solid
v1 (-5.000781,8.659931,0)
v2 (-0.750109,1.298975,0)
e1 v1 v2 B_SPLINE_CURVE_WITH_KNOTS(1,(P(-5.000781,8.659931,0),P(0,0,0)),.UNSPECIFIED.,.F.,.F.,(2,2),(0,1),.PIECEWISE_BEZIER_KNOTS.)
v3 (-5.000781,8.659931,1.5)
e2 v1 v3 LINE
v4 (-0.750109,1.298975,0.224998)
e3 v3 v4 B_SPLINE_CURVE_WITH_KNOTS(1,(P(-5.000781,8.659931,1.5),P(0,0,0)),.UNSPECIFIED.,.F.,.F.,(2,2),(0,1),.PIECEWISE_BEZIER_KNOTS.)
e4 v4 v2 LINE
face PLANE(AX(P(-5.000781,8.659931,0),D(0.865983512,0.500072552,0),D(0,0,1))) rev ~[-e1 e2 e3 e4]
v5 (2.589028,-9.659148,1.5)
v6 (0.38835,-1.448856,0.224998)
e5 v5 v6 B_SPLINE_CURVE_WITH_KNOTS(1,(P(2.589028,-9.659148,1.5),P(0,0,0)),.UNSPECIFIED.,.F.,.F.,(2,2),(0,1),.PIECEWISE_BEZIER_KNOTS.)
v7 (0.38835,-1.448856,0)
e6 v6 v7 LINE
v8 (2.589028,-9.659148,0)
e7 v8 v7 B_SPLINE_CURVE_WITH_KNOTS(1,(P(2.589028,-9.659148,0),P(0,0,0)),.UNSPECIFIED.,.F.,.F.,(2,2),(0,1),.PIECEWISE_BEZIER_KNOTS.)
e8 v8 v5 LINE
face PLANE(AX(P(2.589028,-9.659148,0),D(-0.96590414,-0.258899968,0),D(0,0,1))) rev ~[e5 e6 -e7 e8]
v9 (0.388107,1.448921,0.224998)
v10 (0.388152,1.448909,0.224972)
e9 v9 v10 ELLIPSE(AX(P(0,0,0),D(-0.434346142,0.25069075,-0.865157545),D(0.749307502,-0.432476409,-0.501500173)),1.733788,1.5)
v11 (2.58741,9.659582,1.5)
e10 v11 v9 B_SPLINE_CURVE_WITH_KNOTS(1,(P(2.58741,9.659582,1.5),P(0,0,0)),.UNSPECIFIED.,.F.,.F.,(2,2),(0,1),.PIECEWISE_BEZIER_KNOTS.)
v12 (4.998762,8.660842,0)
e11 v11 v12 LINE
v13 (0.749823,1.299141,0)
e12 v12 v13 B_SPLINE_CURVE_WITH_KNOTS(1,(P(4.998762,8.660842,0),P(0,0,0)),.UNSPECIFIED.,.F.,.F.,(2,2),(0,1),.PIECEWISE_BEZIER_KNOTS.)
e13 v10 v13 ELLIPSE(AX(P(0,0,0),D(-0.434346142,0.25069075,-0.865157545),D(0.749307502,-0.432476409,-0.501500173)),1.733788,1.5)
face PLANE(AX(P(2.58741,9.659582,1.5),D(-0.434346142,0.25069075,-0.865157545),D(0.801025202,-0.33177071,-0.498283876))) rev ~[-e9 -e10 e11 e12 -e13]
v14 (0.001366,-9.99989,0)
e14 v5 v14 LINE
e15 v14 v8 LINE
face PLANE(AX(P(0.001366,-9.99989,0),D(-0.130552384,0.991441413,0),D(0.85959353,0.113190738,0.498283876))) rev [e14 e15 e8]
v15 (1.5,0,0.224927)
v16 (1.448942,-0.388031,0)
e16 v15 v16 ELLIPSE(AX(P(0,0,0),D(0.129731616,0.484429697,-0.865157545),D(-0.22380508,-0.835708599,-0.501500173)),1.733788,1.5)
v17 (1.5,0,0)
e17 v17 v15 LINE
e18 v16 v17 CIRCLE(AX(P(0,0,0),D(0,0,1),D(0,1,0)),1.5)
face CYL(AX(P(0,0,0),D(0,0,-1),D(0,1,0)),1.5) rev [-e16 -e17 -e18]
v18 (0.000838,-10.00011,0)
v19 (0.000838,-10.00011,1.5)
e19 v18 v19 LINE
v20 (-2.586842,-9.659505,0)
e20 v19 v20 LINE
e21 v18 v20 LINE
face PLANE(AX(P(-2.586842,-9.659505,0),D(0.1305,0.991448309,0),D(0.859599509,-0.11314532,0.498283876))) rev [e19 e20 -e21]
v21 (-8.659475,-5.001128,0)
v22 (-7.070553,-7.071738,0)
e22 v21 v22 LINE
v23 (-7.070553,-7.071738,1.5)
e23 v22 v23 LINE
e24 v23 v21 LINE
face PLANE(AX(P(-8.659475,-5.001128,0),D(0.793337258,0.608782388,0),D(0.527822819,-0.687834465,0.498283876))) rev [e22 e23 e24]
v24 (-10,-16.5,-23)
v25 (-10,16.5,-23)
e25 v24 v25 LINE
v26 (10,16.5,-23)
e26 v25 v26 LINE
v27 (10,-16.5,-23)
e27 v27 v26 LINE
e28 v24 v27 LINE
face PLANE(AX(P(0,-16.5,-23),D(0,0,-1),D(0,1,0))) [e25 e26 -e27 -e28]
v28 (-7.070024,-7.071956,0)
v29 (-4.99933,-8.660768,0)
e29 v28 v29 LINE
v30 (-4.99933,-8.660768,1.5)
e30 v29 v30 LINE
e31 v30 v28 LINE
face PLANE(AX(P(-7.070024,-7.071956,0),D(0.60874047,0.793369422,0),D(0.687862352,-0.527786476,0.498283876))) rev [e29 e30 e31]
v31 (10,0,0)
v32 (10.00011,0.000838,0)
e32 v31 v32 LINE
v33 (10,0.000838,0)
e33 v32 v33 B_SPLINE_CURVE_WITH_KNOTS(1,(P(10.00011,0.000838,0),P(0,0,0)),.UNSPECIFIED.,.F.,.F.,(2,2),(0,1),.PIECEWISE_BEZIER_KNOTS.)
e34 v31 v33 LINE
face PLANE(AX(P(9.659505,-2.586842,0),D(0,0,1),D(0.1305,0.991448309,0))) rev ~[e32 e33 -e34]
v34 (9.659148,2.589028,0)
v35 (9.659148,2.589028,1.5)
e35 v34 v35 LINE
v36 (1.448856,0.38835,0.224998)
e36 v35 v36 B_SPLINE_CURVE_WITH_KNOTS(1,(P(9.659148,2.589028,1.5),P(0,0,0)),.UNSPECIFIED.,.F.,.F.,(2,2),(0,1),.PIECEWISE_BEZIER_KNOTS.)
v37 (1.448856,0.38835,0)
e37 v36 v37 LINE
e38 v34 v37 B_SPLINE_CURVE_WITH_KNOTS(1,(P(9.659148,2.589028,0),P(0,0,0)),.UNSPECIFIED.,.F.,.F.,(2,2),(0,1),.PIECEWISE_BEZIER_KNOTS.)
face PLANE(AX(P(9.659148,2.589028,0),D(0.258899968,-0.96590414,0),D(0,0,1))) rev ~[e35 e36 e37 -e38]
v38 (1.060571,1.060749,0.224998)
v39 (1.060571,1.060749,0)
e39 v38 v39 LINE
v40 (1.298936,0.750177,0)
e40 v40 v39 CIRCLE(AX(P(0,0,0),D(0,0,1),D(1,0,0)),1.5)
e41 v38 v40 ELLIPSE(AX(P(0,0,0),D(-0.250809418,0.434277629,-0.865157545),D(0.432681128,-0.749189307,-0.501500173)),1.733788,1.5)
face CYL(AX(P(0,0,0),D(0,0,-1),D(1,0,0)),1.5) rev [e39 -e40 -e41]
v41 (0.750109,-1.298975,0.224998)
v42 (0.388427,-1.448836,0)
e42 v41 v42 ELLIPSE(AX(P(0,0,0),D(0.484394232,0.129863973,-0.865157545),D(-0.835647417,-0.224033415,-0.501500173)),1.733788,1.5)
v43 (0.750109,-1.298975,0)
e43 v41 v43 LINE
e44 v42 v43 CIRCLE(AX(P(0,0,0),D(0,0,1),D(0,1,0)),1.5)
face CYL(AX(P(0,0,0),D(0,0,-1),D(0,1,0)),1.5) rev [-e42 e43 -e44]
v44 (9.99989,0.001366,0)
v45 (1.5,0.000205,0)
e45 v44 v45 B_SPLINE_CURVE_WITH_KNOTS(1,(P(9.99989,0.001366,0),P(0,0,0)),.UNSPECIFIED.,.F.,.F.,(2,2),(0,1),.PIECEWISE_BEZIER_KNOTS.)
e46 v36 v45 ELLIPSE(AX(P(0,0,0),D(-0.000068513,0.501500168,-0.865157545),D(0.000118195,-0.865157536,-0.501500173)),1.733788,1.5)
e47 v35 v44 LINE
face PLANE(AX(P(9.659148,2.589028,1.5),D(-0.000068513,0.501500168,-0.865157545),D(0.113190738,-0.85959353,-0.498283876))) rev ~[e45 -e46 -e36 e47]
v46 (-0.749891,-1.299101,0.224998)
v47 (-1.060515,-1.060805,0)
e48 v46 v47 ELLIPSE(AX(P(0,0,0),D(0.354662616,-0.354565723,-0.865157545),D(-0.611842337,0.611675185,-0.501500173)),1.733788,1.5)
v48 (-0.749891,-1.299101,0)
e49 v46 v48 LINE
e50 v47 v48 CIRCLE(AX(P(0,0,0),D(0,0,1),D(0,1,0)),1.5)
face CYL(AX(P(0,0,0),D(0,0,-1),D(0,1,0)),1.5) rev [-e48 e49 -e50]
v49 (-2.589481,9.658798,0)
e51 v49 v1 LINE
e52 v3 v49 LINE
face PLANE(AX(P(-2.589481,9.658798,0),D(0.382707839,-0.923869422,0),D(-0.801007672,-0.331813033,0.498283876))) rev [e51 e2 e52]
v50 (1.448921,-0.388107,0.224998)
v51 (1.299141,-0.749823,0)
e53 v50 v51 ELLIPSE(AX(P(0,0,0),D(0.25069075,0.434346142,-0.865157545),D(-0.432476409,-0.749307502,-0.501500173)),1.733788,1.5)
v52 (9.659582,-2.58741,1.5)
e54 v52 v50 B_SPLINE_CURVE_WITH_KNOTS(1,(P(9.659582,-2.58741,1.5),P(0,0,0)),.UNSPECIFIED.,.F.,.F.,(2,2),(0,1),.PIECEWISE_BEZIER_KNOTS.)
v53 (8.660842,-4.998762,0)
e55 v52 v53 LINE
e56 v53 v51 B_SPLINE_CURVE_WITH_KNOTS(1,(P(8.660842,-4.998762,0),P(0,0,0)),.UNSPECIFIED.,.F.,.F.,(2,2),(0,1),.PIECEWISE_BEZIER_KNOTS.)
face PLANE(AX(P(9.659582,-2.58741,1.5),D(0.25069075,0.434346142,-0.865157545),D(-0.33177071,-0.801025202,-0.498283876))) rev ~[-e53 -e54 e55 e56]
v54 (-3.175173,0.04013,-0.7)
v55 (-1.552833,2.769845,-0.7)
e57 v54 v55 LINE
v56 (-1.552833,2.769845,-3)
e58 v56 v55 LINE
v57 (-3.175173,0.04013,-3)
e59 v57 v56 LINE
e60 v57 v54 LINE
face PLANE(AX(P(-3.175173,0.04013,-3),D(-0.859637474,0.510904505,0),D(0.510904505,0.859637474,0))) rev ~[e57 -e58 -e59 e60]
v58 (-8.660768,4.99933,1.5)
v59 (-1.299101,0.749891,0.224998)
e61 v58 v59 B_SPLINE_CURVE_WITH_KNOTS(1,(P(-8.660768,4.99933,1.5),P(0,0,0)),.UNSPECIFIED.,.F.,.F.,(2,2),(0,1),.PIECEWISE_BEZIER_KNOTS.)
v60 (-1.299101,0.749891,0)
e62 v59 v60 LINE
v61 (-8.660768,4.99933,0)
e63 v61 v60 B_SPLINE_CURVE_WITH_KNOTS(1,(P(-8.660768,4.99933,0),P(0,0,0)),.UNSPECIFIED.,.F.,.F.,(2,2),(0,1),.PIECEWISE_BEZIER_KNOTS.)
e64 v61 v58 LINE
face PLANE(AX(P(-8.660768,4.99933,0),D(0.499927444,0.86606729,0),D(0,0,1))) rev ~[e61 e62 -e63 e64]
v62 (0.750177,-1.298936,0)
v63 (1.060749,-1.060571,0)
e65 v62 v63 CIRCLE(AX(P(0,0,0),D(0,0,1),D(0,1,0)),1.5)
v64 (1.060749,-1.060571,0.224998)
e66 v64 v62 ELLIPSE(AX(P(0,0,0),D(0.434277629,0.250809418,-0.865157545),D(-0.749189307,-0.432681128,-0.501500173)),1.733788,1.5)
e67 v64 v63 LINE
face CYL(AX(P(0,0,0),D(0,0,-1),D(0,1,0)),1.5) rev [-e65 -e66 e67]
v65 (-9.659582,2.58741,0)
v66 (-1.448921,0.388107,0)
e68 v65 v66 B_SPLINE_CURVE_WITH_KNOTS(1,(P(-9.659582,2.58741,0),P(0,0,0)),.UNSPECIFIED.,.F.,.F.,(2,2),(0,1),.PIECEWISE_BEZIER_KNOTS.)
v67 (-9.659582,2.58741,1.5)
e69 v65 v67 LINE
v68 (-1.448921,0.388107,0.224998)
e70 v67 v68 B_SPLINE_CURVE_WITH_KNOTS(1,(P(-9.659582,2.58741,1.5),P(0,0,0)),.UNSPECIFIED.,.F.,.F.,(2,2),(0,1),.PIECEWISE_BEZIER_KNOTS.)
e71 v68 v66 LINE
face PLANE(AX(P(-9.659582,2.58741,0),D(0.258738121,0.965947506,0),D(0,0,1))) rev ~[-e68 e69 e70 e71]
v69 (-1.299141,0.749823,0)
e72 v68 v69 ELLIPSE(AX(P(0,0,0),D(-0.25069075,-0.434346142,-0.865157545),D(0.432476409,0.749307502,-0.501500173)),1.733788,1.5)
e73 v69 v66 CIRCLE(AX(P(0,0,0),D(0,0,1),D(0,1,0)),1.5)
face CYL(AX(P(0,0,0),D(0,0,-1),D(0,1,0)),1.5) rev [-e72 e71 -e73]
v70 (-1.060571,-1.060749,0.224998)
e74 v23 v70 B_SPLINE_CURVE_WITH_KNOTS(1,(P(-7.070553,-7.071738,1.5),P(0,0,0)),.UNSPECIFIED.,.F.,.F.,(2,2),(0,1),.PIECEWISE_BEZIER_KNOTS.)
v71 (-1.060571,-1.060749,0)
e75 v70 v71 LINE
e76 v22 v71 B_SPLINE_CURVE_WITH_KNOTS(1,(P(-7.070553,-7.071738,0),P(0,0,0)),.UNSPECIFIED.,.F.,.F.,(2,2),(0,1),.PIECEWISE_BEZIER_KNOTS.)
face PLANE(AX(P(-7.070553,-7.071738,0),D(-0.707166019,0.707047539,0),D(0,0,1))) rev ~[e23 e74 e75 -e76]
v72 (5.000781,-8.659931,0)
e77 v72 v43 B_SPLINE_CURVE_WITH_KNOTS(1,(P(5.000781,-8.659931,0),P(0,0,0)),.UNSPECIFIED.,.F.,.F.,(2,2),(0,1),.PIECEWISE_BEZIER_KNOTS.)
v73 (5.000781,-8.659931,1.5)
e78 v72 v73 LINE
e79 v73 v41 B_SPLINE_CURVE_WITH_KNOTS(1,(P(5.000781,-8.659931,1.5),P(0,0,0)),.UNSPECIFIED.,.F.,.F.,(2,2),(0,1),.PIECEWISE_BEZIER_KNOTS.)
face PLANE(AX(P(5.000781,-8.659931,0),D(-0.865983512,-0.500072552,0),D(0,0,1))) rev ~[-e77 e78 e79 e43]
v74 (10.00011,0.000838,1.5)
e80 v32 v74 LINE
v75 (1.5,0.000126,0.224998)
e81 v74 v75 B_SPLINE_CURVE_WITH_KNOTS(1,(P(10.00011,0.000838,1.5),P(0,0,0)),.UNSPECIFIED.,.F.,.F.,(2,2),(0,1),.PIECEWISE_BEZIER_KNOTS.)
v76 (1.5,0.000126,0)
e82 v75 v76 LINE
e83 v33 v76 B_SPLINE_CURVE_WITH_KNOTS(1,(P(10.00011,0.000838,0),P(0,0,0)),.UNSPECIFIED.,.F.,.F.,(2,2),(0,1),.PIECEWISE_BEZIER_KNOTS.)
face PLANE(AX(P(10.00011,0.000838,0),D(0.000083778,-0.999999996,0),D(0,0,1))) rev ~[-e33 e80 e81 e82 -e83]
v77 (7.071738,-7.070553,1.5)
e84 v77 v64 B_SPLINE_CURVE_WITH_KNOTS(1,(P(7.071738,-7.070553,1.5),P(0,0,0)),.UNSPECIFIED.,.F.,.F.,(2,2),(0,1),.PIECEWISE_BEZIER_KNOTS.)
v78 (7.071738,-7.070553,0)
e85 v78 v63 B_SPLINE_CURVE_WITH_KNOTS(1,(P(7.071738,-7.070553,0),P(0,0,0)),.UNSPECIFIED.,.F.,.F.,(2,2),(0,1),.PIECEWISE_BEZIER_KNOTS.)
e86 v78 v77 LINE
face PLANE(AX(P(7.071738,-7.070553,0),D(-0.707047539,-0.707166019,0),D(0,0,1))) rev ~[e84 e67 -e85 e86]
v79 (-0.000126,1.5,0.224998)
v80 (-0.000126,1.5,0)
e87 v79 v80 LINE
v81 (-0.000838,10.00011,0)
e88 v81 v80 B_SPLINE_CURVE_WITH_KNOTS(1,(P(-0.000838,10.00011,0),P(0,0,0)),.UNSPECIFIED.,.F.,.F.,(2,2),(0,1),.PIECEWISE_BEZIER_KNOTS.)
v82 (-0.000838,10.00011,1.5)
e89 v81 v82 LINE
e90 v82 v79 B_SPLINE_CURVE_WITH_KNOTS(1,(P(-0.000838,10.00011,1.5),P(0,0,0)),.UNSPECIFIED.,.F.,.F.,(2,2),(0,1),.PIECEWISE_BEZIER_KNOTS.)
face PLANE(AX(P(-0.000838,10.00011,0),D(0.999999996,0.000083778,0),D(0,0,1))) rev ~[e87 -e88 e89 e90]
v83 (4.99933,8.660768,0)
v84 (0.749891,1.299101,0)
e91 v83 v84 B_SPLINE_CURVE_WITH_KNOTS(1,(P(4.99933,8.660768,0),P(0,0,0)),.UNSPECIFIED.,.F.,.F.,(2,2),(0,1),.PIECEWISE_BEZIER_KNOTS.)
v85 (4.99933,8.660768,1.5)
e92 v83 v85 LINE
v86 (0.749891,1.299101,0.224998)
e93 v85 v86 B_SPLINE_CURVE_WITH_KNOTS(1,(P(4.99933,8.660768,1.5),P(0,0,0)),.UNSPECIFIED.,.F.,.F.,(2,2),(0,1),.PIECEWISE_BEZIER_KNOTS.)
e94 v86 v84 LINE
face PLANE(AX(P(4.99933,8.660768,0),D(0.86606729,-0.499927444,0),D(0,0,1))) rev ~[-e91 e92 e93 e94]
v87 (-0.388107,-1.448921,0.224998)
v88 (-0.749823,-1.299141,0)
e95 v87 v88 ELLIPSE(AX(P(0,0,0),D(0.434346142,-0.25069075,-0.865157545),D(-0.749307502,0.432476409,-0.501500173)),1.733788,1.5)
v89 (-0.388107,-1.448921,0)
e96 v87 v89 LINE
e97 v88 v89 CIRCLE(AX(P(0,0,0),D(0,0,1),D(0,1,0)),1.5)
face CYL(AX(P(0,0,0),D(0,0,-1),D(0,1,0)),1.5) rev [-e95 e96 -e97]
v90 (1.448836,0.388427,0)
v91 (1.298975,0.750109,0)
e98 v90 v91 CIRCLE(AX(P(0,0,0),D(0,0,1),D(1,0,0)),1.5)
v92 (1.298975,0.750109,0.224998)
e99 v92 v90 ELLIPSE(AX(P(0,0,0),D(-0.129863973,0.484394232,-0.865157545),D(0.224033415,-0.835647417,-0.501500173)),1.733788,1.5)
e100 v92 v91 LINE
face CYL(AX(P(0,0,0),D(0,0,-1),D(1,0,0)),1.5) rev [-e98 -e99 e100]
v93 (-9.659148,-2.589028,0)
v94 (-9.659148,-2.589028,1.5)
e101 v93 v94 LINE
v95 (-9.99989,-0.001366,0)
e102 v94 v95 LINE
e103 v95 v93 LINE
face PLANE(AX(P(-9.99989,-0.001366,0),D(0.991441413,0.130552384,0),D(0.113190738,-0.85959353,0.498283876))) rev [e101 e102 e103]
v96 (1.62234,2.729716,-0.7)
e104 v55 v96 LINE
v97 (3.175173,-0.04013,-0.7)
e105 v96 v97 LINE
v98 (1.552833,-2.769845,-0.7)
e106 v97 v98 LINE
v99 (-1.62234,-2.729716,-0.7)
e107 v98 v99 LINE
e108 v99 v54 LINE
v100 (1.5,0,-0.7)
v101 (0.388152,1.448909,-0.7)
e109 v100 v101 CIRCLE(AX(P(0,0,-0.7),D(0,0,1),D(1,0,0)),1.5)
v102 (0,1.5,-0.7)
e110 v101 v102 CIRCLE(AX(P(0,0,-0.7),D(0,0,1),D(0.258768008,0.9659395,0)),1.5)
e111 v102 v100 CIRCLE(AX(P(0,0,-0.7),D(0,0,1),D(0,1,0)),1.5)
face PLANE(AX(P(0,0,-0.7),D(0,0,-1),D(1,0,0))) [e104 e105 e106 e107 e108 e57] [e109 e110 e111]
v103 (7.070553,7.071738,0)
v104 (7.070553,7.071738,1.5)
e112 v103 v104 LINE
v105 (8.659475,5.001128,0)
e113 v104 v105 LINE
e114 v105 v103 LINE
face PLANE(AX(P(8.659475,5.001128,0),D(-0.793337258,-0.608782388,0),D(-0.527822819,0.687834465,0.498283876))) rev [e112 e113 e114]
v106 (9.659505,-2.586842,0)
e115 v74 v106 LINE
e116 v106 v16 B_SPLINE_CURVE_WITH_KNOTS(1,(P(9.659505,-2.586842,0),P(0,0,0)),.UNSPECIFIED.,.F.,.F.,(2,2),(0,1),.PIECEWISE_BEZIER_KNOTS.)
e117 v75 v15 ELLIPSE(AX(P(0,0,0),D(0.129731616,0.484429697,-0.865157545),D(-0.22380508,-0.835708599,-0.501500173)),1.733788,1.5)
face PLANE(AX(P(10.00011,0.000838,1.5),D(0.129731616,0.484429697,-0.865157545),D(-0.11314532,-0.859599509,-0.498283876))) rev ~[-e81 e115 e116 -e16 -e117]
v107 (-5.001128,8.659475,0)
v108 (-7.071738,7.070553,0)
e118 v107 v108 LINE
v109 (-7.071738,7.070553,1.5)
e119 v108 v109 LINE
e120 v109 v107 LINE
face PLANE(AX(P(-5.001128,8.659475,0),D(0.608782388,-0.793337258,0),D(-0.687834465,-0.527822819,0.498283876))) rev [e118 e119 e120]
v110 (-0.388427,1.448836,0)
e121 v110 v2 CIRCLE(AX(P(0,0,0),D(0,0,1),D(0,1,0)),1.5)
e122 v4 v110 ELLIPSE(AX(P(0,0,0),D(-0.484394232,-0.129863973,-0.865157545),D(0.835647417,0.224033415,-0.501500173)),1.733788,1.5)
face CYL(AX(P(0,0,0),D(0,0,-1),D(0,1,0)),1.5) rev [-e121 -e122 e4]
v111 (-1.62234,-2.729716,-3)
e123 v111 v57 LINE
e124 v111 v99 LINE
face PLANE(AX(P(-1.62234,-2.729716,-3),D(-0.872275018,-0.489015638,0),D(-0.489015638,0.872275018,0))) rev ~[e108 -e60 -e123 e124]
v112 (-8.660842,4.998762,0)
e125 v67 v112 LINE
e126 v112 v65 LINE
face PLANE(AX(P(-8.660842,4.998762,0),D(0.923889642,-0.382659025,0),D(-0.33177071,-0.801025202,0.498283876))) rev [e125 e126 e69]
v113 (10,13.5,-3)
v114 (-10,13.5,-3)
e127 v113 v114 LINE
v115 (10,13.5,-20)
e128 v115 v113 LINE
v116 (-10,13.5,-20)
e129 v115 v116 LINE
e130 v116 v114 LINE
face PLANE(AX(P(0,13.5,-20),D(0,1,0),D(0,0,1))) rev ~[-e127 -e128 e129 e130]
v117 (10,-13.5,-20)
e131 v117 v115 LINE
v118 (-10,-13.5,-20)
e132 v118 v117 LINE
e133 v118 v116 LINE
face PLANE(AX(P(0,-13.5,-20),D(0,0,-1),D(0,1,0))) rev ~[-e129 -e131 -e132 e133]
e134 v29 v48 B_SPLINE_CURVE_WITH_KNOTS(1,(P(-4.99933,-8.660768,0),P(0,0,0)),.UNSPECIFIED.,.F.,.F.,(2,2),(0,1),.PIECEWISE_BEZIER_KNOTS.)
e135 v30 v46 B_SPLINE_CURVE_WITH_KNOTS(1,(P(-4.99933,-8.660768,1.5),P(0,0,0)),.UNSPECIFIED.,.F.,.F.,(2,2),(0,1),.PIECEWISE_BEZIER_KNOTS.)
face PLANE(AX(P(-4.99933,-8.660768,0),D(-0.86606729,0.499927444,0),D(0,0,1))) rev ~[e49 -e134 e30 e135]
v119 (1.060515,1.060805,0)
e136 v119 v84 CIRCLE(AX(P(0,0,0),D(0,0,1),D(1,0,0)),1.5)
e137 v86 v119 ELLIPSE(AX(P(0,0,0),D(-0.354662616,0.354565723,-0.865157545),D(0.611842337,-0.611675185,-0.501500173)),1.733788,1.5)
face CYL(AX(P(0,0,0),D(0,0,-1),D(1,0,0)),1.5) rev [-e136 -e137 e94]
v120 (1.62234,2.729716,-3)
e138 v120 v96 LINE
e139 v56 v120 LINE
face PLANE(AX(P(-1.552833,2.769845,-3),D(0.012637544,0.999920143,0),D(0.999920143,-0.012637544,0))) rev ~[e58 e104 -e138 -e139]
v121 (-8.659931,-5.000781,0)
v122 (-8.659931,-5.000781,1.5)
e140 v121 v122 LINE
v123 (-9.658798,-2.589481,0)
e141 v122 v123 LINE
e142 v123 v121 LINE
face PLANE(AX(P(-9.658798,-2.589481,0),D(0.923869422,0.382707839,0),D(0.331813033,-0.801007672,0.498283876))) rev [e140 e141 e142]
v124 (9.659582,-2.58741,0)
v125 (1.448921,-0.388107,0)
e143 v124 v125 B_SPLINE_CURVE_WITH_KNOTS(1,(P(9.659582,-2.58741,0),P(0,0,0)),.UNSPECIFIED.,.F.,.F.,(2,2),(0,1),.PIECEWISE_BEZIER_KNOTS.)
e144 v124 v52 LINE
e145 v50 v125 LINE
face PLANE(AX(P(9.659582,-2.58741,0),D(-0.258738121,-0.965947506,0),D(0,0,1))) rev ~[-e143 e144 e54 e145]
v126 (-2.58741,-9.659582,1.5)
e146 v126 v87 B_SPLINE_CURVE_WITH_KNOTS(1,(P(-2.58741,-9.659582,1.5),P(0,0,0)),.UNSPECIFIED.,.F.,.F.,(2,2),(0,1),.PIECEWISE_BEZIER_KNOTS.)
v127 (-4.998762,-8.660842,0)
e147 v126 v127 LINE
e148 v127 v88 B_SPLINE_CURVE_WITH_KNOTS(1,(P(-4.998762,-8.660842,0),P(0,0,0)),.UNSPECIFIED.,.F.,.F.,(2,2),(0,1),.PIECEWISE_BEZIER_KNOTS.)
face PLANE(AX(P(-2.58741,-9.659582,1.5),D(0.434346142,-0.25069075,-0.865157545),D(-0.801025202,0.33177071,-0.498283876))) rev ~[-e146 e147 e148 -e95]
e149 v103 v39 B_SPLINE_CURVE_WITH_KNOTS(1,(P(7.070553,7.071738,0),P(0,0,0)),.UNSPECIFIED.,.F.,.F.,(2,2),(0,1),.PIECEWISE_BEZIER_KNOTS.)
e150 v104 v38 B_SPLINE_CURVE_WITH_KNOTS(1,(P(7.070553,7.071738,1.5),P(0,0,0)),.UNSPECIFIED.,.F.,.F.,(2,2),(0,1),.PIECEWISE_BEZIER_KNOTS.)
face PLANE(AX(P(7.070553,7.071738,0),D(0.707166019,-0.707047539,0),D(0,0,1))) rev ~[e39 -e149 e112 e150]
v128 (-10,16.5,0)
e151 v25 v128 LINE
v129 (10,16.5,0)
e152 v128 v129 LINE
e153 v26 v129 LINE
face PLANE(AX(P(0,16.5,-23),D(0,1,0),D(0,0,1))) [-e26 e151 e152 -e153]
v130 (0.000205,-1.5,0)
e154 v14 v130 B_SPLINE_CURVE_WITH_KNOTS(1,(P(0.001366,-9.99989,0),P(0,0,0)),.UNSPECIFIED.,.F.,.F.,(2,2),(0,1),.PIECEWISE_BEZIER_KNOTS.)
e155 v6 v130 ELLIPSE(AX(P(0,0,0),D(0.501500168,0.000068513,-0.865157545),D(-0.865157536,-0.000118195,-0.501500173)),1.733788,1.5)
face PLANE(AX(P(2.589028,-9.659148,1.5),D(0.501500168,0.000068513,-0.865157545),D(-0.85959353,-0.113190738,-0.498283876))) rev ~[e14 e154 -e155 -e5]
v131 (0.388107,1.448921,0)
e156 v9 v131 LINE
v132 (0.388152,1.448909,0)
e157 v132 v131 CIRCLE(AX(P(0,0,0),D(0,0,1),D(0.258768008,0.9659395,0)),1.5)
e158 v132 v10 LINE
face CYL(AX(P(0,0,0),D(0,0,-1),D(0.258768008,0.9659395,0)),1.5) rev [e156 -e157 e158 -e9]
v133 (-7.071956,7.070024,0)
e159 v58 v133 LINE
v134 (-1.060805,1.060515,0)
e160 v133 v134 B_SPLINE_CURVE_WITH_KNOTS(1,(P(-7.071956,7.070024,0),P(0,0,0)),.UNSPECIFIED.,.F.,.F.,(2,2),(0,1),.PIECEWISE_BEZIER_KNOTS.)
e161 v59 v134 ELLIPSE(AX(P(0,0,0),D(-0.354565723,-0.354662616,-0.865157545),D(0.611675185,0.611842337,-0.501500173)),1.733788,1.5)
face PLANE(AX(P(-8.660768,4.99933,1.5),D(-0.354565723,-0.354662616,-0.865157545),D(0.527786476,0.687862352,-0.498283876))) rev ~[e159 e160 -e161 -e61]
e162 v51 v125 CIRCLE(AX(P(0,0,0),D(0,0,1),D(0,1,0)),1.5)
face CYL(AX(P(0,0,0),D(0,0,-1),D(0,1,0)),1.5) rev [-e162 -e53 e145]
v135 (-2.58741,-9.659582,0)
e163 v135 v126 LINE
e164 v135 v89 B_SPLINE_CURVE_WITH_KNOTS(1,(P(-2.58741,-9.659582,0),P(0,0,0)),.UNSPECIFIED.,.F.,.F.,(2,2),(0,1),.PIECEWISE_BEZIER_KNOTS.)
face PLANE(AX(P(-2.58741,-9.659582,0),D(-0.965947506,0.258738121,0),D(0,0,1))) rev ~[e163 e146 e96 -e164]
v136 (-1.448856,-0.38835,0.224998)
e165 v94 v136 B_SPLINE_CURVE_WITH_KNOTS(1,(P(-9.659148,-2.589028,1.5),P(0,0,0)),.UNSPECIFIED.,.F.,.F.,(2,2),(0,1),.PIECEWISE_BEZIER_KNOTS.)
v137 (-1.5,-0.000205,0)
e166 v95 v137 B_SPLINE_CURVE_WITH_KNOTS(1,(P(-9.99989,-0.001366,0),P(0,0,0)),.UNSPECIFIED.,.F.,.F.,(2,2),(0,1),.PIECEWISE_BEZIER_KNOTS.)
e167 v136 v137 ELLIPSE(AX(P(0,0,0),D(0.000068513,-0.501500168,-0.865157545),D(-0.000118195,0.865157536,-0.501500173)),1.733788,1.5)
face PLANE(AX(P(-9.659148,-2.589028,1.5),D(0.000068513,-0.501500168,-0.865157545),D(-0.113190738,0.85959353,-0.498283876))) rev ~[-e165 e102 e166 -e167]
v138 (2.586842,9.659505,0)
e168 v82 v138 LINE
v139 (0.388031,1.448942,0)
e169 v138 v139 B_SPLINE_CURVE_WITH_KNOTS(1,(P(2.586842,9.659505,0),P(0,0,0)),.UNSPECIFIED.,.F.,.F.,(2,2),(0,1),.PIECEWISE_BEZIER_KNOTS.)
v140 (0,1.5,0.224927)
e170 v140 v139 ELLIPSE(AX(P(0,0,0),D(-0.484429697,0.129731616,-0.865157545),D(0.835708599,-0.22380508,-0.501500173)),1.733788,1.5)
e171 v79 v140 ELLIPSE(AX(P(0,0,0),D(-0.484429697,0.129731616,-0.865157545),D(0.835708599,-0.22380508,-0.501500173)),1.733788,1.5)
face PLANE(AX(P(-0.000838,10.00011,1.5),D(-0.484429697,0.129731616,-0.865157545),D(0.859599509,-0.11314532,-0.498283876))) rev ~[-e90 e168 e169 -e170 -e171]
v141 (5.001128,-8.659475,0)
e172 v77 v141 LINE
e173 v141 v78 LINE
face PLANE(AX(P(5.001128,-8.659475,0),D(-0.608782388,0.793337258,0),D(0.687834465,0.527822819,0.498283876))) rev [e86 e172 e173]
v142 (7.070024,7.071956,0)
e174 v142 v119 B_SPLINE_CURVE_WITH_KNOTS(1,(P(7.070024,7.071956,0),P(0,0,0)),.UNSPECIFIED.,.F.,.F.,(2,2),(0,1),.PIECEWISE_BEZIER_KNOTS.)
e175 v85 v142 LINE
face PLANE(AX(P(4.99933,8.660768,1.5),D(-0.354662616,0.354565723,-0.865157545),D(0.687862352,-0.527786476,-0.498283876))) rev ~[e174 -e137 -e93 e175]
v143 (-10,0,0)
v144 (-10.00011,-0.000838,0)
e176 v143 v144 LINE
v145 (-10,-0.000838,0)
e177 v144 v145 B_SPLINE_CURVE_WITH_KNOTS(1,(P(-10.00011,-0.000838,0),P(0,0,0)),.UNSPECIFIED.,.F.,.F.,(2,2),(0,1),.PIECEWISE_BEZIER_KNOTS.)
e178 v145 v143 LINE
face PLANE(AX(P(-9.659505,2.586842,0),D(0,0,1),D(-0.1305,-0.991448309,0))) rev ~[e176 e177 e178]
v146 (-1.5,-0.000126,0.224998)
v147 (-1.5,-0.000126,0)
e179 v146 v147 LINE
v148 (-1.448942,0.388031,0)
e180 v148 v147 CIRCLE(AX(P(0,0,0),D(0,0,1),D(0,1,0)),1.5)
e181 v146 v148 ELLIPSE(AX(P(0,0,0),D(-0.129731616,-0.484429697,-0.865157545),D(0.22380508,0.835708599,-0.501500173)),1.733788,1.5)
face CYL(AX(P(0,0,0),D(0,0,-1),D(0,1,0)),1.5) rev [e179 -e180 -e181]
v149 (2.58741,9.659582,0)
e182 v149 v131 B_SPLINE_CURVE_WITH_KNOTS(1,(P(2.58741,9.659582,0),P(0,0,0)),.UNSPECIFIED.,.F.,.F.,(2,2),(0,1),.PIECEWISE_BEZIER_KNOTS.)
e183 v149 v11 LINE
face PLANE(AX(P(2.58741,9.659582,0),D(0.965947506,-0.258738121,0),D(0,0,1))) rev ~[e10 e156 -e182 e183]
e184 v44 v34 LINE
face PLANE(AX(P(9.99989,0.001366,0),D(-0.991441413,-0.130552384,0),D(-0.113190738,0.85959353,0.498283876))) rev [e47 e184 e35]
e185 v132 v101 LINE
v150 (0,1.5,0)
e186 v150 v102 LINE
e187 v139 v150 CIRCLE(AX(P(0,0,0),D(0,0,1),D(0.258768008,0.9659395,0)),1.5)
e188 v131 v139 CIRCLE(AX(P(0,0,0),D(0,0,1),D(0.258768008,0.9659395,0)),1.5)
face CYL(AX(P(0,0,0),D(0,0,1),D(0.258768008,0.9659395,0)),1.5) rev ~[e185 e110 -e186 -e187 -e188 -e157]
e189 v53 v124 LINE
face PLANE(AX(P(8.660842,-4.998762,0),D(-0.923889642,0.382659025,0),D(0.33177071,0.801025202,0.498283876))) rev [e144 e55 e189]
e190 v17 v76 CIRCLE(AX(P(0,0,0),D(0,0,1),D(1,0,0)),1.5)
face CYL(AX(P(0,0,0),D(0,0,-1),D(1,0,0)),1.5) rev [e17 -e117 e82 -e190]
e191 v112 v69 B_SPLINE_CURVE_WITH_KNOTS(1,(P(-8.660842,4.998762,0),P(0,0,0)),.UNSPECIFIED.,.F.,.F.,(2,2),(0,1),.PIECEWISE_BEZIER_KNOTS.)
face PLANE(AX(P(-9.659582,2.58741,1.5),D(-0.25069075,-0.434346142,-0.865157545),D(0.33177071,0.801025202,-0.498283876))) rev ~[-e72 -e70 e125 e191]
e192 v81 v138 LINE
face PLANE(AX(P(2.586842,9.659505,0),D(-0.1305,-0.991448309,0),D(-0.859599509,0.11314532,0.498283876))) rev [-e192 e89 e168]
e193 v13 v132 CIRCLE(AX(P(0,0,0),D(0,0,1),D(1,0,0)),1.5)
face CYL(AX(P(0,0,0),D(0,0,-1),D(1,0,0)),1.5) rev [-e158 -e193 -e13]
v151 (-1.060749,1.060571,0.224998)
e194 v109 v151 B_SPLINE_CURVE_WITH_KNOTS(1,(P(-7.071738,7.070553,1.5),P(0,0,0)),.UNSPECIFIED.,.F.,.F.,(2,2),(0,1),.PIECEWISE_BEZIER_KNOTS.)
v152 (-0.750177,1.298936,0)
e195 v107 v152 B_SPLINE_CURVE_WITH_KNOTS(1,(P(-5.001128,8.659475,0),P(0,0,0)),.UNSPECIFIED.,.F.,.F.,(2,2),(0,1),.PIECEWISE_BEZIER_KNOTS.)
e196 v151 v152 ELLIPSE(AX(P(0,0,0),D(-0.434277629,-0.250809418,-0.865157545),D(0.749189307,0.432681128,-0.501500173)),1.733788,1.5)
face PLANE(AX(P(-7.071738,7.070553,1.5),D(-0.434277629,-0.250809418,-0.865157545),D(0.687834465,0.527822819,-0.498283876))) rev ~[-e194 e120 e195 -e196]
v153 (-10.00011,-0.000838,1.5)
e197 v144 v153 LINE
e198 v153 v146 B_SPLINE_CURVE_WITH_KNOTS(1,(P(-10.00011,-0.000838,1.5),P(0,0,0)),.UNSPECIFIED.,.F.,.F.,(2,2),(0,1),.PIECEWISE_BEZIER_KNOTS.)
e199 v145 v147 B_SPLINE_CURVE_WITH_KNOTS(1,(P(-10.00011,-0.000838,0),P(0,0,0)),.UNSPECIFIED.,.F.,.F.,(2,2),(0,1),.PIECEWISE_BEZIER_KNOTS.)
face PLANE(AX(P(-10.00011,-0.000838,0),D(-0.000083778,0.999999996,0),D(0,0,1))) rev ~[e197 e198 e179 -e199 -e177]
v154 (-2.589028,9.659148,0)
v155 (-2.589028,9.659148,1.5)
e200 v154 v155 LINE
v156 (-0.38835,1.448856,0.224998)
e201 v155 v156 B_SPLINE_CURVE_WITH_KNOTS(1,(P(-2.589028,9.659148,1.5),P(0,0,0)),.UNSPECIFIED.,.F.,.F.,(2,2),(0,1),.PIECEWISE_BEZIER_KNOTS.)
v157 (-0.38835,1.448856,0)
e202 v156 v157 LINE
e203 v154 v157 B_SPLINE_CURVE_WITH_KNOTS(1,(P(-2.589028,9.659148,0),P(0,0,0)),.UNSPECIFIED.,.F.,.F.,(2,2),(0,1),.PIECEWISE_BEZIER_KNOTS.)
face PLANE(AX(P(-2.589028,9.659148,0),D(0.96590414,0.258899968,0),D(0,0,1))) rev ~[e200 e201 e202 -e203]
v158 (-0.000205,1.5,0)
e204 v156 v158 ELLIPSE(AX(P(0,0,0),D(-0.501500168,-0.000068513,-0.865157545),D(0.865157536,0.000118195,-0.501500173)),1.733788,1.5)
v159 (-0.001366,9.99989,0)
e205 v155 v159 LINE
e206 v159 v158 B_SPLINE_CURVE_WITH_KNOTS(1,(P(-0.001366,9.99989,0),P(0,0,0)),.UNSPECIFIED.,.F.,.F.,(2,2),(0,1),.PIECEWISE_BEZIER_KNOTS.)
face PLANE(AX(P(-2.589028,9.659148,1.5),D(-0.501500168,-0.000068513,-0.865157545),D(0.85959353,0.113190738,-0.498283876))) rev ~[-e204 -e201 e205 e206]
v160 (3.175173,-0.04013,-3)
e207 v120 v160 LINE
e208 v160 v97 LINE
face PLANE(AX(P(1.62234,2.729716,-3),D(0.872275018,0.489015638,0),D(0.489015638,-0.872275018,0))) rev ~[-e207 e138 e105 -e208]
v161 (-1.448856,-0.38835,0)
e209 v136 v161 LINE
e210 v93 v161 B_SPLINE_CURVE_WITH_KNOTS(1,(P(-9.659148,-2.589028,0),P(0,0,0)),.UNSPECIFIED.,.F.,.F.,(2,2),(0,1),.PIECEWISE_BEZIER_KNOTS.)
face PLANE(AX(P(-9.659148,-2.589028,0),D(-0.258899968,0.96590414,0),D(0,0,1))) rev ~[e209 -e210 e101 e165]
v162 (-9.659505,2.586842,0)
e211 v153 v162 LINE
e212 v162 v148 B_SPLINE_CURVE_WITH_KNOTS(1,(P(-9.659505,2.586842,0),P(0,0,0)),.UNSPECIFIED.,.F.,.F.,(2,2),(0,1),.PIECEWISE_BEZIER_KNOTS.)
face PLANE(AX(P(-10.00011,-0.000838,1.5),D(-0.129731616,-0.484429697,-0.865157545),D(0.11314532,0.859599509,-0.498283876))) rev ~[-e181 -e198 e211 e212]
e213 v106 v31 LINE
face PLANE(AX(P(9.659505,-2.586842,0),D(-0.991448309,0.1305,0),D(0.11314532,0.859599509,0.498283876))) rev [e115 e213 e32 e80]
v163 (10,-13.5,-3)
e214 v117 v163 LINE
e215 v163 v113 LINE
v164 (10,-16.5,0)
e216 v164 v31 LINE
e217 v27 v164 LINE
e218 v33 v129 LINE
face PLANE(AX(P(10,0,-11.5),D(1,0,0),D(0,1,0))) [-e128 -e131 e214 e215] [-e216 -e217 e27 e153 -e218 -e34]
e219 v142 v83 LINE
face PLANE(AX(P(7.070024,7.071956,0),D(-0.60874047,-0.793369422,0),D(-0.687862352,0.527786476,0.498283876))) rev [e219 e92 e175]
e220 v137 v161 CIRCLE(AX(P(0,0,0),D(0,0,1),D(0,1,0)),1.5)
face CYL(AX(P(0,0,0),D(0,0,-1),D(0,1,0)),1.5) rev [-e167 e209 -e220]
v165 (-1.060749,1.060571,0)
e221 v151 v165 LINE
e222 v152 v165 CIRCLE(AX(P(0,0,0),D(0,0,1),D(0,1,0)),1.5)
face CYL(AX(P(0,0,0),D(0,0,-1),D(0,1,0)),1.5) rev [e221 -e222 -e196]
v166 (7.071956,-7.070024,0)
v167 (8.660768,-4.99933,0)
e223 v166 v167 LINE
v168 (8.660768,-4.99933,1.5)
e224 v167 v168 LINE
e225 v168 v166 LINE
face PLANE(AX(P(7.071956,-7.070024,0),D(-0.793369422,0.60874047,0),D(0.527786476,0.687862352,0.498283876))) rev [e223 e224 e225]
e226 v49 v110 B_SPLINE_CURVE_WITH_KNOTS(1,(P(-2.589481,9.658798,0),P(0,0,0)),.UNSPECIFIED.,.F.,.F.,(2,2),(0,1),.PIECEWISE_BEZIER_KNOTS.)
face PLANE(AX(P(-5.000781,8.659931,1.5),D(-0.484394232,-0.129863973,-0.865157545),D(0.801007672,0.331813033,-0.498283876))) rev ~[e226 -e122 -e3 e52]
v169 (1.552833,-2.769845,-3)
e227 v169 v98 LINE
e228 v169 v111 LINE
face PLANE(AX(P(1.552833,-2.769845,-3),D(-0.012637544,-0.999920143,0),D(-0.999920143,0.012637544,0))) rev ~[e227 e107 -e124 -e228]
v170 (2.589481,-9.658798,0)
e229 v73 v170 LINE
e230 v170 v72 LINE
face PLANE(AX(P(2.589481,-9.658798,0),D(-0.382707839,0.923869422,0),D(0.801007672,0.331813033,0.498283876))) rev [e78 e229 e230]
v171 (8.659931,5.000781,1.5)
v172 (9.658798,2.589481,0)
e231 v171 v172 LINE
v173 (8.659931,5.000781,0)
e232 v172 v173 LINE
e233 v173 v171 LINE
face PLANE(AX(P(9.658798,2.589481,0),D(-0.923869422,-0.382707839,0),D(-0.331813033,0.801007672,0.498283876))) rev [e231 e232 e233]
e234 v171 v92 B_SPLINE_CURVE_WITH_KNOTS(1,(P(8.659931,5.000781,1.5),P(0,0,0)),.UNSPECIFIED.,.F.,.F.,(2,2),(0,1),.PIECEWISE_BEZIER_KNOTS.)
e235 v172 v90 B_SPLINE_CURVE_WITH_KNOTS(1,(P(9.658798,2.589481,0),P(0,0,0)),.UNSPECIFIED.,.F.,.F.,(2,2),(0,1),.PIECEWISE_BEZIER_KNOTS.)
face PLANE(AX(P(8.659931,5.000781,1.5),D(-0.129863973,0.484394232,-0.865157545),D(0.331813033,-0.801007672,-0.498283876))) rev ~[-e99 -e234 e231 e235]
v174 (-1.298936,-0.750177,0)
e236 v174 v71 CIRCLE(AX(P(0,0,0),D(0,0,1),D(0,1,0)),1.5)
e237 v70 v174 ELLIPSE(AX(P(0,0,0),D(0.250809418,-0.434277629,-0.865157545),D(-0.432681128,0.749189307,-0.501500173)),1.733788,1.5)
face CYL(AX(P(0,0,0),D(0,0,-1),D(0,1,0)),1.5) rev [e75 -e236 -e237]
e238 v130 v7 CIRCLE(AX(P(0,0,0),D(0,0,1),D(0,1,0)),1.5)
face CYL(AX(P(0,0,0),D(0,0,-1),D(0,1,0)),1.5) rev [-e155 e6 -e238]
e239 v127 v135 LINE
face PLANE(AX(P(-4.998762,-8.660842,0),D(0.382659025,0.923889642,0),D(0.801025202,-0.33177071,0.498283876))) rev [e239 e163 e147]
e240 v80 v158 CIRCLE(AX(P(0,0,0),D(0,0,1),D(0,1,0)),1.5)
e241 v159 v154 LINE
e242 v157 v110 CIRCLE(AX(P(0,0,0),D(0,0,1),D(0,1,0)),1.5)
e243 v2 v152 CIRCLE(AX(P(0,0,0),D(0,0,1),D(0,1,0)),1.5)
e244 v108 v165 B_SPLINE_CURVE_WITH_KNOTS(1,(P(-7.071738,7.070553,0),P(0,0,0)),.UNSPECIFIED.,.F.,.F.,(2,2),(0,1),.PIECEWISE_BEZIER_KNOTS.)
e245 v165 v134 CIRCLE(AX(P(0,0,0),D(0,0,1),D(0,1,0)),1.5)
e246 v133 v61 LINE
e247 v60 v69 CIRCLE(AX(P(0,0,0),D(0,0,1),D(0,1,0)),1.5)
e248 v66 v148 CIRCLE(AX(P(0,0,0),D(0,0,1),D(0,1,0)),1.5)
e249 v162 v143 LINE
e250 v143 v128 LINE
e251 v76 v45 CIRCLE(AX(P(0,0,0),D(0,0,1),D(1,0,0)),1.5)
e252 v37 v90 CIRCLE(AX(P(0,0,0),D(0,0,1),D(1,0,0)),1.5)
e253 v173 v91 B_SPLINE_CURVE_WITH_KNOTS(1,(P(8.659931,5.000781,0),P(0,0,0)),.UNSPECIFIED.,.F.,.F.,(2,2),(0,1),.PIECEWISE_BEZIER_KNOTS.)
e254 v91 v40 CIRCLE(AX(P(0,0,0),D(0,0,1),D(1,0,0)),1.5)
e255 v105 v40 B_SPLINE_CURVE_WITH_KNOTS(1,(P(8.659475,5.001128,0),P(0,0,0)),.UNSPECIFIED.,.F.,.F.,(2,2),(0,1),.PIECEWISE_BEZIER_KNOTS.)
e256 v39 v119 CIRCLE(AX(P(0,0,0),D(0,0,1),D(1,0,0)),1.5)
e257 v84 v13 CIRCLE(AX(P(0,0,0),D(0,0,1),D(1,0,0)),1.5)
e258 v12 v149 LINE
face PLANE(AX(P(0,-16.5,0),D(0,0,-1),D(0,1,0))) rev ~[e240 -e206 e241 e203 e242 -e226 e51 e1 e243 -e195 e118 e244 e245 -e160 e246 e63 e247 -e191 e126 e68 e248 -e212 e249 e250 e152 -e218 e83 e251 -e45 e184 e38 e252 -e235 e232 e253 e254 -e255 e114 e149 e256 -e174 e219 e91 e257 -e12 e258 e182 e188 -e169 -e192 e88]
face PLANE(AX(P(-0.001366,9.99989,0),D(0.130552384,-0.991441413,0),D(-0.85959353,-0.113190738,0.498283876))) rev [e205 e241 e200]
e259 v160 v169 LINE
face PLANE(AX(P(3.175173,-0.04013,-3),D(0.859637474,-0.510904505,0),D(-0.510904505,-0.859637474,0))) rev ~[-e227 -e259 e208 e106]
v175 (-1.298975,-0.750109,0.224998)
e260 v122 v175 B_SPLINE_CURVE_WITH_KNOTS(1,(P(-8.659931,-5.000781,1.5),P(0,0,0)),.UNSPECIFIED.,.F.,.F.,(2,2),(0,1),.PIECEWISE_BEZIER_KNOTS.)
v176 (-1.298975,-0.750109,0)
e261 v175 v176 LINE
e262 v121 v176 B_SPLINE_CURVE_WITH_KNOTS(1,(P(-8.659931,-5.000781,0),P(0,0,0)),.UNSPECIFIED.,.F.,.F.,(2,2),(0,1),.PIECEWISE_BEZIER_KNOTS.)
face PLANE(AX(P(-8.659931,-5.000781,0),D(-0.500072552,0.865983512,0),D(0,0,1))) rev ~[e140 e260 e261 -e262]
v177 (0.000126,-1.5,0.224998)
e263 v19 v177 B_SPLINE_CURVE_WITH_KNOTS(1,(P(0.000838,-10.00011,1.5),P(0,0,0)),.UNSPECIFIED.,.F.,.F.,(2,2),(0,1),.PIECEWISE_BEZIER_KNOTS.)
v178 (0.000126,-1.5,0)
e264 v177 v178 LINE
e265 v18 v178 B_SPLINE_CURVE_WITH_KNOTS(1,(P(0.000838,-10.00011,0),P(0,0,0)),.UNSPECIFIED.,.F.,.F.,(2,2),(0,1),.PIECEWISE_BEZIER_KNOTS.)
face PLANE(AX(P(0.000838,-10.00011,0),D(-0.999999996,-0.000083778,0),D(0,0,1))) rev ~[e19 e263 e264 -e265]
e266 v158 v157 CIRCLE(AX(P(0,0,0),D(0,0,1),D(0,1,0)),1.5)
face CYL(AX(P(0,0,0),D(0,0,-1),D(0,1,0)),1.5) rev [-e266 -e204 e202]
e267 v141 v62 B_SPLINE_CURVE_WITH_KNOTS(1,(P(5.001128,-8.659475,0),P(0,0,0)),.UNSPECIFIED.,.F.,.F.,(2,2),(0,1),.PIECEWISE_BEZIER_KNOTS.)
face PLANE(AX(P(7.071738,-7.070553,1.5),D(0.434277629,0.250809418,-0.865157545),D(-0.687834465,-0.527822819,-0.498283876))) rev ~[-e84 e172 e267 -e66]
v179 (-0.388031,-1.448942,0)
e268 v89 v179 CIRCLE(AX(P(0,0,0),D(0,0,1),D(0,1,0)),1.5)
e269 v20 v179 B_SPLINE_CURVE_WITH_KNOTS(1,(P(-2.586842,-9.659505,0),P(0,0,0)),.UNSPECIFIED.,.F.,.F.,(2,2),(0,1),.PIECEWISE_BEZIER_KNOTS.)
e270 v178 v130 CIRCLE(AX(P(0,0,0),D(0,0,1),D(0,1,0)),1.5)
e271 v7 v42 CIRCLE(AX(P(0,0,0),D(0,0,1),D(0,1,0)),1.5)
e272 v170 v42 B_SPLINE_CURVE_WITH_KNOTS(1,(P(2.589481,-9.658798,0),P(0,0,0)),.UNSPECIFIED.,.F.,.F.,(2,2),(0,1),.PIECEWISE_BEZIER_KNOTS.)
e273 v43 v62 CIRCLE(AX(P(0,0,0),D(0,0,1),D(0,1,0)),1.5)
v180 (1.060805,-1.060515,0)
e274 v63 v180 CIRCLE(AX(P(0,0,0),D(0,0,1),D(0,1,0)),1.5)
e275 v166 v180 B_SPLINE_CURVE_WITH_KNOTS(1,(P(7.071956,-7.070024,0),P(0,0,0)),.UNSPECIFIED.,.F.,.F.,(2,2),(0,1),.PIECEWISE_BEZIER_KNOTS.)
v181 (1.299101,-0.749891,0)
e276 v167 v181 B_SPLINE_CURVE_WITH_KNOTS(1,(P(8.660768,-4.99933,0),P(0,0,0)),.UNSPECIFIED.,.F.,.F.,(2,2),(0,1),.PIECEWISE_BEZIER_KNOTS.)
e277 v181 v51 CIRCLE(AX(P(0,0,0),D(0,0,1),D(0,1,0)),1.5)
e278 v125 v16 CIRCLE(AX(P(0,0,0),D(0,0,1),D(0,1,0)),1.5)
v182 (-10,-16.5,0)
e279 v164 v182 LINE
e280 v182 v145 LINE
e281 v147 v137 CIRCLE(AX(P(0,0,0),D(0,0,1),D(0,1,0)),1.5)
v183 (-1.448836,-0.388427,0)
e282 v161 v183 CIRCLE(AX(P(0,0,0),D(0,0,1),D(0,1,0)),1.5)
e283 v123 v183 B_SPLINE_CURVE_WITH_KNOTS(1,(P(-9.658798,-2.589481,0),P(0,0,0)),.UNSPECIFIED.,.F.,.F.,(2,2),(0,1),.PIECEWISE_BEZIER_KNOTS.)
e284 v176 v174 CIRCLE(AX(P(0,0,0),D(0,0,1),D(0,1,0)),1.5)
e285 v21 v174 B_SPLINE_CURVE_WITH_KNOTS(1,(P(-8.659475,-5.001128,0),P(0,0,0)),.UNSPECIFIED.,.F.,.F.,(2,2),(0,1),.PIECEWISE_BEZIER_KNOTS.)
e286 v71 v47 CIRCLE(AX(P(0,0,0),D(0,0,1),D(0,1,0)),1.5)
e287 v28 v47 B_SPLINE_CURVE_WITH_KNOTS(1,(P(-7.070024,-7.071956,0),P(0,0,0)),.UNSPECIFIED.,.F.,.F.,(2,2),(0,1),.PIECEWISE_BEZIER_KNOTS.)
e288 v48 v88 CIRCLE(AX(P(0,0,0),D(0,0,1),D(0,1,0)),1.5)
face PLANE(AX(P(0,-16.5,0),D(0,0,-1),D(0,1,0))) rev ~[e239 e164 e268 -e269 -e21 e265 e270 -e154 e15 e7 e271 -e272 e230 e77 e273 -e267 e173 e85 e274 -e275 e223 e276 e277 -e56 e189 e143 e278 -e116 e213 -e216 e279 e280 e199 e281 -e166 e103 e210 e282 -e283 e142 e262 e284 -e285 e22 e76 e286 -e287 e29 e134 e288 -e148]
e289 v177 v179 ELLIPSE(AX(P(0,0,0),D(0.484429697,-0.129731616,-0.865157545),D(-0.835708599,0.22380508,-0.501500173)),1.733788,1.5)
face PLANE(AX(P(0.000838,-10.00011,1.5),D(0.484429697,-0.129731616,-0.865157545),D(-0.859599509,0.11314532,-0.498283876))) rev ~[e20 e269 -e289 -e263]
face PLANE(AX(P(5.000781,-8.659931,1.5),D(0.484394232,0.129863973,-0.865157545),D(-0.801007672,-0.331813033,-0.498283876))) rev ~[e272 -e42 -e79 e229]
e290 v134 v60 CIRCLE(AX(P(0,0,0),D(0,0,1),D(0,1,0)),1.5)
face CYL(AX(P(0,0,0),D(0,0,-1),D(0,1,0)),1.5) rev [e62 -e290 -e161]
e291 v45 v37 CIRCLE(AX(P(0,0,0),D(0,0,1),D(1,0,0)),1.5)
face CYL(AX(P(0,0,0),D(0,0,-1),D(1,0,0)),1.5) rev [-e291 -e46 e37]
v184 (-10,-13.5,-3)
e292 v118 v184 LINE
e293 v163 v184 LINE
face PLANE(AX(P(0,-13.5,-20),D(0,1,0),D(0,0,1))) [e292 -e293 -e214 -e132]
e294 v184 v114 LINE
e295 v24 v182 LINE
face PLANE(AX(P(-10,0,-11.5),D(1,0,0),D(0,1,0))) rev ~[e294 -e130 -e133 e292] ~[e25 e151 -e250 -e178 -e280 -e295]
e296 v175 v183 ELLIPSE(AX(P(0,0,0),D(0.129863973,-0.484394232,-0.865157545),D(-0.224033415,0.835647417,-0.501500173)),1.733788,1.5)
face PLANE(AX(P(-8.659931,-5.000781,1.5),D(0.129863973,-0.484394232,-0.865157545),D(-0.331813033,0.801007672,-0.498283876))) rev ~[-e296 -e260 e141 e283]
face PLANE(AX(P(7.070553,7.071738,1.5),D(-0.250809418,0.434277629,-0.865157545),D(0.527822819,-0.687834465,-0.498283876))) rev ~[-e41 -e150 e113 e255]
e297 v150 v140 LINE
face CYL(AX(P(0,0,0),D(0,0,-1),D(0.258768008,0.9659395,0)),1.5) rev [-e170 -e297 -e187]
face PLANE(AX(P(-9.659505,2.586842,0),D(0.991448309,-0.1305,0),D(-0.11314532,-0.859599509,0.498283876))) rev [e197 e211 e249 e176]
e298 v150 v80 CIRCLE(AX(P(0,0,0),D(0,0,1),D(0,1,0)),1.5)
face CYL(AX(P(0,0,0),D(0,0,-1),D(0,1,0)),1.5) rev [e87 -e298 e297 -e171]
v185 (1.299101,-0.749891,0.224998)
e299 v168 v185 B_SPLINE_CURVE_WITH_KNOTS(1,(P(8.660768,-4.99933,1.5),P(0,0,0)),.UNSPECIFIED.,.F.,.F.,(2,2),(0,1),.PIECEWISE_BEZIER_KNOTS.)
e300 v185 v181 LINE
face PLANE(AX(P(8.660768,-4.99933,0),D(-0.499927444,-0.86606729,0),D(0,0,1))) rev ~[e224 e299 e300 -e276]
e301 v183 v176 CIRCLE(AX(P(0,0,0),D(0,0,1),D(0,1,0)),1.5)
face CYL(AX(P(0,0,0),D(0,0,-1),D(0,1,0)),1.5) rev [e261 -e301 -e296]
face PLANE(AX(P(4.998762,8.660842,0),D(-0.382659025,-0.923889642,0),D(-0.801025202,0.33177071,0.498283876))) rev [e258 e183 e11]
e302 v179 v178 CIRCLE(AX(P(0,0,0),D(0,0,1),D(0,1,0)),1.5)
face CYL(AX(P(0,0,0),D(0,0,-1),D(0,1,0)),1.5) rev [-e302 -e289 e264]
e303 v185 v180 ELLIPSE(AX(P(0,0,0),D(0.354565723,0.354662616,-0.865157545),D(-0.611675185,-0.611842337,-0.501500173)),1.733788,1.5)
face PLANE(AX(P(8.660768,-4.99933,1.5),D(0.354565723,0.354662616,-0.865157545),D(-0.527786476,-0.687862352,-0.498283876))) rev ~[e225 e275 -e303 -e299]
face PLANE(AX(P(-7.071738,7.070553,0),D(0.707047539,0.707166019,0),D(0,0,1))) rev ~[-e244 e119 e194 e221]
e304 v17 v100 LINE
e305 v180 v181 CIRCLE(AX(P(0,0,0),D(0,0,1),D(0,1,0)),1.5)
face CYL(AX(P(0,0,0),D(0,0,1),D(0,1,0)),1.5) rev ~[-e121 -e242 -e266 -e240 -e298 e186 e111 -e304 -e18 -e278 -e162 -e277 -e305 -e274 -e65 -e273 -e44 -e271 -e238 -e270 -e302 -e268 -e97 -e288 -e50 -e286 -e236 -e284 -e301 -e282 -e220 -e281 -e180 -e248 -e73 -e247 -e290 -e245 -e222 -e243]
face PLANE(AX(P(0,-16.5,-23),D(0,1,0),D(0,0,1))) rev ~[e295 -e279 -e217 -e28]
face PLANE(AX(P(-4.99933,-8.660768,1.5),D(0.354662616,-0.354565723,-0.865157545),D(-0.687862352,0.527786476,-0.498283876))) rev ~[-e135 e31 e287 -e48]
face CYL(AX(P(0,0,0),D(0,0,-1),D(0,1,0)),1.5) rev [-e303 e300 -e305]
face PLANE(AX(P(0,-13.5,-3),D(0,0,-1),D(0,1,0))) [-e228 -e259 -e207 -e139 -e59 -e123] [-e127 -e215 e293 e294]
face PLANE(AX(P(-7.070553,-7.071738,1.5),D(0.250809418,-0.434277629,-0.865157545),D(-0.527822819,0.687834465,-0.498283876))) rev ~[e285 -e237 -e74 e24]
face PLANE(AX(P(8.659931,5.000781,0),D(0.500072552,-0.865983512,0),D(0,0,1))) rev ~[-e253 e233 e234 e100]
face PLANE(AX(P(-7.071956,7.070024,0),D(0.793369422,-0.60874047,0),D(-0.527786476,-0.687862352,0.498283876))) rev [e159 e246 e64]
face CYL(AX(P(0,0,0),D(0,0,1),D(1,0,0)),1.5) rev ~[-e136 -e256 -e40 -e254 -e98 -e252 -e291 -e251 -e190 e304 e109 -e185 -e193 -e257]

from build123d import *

# Parameters (mm, degrees)
F5_COUNT      = 24
F6_W          = 33
F6_H          = 23
F6_W_2        = 27
F6_H_2        = 17
F7_DEPTH      = 10
F7_DEPTH_BACK = 10
F8_DEPTH      = 3
F8_DEPTH_BACK = 5
F10_DEPTH     = 2.3


with BuildPart() as f3:
    # F2 (on line) → F3 section 0
    with BuildSketch(Plane(origin=(1.2938400436, 9.8296975, 0), x_dir=(-0.9914483093, 0.1305, 0), z_dir=(0.1305, 0.9914483093, 0)), mode=Mode.PRIVATE) as f3_s0:
        Polygon((-1.3041549828, 0), (1.3058450172, 0), (1.3058450172, 1.5), align=None)
    loft([f3_s0.sketch, Vertex(0, 0, 0)])

    # F5: F3 ×24 about axis
    f5_axis = Axis((0, 0, 1.9288011827), (0, 0, 1))


with BuildPart() as f3_1:
    add(f3.part)
    for i in range(1, F5_COUNT):
        add(f3.part.rotate(f5_axis, i * 360 / F5_COUNT))

    # F6 (on Right) → F7 (join, two sides)
    with BuildSketch(Plane.YZ) as f7_sk:
        with Locations((0, -11.5)):
            Rectangle(F6_W, F6_H)
        with Locations((0, -11.5)):
            Rectangle(F6_W_2, F6_H_2, mode=Mode.SUBTRACT)
    extrude(amount=F7_DEPTH)
    extrude(f7_sk.sketch, amount=-F7_DEPTH_BACK)

    # F0 (on Top) → F8 (cut, two sides)
    with BuildSketch(Plane.XY) as f8_sk:
        with BuildLine():
            ThreePointArc((1.5, 0), (1.1900058865, 0.9131735816), (0.3881520131, 1.44890925))
            Line((0.3881520131, 1.44890925), (0, 0))
            Line((0, 0), (0, 1.5))
            ThreePointArc((0, 1.5), (-1.0606601718, -1.0606601718), (1.5, 0))
        make_face()
        with BuildLine():
            Line((0, 0), (0.3881520131, 1.44890925))
            ThreePointArc((0.3881520131, 1.44890925), (0.19575, 1.4871724639), (0, 1.5))
            Line((0, 1.5), (0, 0))
        make_face()
    extrude(amount=-F8_DEPTH, mode=Mode.SUBTRACT)
    extrude(f8_sk.sketch, amount=F8_DEPTH_BACK, mode=Mode.SUBTRACT)

    # F9 (on face) → F10 (cut)
    with BuildSketch(Plane(origin=(0, 0, -3), x_dir=(1, 0, 0), z_dir=(0, 0, -1))):
        Polygon((-3.1751729007, -0.0401295912), (-1.5528332049, -2.769845189), (1.6223396958, -2.7297155978), (3.1751729007, 0.0401295912), (1.5528332049, 2.769845189), (-1.6223396958, 2.7297155978), align=None)
    extrude(amount=-F10_DEPTH, mode=Mode.SUBTRACT)


solid = f3_1.part
